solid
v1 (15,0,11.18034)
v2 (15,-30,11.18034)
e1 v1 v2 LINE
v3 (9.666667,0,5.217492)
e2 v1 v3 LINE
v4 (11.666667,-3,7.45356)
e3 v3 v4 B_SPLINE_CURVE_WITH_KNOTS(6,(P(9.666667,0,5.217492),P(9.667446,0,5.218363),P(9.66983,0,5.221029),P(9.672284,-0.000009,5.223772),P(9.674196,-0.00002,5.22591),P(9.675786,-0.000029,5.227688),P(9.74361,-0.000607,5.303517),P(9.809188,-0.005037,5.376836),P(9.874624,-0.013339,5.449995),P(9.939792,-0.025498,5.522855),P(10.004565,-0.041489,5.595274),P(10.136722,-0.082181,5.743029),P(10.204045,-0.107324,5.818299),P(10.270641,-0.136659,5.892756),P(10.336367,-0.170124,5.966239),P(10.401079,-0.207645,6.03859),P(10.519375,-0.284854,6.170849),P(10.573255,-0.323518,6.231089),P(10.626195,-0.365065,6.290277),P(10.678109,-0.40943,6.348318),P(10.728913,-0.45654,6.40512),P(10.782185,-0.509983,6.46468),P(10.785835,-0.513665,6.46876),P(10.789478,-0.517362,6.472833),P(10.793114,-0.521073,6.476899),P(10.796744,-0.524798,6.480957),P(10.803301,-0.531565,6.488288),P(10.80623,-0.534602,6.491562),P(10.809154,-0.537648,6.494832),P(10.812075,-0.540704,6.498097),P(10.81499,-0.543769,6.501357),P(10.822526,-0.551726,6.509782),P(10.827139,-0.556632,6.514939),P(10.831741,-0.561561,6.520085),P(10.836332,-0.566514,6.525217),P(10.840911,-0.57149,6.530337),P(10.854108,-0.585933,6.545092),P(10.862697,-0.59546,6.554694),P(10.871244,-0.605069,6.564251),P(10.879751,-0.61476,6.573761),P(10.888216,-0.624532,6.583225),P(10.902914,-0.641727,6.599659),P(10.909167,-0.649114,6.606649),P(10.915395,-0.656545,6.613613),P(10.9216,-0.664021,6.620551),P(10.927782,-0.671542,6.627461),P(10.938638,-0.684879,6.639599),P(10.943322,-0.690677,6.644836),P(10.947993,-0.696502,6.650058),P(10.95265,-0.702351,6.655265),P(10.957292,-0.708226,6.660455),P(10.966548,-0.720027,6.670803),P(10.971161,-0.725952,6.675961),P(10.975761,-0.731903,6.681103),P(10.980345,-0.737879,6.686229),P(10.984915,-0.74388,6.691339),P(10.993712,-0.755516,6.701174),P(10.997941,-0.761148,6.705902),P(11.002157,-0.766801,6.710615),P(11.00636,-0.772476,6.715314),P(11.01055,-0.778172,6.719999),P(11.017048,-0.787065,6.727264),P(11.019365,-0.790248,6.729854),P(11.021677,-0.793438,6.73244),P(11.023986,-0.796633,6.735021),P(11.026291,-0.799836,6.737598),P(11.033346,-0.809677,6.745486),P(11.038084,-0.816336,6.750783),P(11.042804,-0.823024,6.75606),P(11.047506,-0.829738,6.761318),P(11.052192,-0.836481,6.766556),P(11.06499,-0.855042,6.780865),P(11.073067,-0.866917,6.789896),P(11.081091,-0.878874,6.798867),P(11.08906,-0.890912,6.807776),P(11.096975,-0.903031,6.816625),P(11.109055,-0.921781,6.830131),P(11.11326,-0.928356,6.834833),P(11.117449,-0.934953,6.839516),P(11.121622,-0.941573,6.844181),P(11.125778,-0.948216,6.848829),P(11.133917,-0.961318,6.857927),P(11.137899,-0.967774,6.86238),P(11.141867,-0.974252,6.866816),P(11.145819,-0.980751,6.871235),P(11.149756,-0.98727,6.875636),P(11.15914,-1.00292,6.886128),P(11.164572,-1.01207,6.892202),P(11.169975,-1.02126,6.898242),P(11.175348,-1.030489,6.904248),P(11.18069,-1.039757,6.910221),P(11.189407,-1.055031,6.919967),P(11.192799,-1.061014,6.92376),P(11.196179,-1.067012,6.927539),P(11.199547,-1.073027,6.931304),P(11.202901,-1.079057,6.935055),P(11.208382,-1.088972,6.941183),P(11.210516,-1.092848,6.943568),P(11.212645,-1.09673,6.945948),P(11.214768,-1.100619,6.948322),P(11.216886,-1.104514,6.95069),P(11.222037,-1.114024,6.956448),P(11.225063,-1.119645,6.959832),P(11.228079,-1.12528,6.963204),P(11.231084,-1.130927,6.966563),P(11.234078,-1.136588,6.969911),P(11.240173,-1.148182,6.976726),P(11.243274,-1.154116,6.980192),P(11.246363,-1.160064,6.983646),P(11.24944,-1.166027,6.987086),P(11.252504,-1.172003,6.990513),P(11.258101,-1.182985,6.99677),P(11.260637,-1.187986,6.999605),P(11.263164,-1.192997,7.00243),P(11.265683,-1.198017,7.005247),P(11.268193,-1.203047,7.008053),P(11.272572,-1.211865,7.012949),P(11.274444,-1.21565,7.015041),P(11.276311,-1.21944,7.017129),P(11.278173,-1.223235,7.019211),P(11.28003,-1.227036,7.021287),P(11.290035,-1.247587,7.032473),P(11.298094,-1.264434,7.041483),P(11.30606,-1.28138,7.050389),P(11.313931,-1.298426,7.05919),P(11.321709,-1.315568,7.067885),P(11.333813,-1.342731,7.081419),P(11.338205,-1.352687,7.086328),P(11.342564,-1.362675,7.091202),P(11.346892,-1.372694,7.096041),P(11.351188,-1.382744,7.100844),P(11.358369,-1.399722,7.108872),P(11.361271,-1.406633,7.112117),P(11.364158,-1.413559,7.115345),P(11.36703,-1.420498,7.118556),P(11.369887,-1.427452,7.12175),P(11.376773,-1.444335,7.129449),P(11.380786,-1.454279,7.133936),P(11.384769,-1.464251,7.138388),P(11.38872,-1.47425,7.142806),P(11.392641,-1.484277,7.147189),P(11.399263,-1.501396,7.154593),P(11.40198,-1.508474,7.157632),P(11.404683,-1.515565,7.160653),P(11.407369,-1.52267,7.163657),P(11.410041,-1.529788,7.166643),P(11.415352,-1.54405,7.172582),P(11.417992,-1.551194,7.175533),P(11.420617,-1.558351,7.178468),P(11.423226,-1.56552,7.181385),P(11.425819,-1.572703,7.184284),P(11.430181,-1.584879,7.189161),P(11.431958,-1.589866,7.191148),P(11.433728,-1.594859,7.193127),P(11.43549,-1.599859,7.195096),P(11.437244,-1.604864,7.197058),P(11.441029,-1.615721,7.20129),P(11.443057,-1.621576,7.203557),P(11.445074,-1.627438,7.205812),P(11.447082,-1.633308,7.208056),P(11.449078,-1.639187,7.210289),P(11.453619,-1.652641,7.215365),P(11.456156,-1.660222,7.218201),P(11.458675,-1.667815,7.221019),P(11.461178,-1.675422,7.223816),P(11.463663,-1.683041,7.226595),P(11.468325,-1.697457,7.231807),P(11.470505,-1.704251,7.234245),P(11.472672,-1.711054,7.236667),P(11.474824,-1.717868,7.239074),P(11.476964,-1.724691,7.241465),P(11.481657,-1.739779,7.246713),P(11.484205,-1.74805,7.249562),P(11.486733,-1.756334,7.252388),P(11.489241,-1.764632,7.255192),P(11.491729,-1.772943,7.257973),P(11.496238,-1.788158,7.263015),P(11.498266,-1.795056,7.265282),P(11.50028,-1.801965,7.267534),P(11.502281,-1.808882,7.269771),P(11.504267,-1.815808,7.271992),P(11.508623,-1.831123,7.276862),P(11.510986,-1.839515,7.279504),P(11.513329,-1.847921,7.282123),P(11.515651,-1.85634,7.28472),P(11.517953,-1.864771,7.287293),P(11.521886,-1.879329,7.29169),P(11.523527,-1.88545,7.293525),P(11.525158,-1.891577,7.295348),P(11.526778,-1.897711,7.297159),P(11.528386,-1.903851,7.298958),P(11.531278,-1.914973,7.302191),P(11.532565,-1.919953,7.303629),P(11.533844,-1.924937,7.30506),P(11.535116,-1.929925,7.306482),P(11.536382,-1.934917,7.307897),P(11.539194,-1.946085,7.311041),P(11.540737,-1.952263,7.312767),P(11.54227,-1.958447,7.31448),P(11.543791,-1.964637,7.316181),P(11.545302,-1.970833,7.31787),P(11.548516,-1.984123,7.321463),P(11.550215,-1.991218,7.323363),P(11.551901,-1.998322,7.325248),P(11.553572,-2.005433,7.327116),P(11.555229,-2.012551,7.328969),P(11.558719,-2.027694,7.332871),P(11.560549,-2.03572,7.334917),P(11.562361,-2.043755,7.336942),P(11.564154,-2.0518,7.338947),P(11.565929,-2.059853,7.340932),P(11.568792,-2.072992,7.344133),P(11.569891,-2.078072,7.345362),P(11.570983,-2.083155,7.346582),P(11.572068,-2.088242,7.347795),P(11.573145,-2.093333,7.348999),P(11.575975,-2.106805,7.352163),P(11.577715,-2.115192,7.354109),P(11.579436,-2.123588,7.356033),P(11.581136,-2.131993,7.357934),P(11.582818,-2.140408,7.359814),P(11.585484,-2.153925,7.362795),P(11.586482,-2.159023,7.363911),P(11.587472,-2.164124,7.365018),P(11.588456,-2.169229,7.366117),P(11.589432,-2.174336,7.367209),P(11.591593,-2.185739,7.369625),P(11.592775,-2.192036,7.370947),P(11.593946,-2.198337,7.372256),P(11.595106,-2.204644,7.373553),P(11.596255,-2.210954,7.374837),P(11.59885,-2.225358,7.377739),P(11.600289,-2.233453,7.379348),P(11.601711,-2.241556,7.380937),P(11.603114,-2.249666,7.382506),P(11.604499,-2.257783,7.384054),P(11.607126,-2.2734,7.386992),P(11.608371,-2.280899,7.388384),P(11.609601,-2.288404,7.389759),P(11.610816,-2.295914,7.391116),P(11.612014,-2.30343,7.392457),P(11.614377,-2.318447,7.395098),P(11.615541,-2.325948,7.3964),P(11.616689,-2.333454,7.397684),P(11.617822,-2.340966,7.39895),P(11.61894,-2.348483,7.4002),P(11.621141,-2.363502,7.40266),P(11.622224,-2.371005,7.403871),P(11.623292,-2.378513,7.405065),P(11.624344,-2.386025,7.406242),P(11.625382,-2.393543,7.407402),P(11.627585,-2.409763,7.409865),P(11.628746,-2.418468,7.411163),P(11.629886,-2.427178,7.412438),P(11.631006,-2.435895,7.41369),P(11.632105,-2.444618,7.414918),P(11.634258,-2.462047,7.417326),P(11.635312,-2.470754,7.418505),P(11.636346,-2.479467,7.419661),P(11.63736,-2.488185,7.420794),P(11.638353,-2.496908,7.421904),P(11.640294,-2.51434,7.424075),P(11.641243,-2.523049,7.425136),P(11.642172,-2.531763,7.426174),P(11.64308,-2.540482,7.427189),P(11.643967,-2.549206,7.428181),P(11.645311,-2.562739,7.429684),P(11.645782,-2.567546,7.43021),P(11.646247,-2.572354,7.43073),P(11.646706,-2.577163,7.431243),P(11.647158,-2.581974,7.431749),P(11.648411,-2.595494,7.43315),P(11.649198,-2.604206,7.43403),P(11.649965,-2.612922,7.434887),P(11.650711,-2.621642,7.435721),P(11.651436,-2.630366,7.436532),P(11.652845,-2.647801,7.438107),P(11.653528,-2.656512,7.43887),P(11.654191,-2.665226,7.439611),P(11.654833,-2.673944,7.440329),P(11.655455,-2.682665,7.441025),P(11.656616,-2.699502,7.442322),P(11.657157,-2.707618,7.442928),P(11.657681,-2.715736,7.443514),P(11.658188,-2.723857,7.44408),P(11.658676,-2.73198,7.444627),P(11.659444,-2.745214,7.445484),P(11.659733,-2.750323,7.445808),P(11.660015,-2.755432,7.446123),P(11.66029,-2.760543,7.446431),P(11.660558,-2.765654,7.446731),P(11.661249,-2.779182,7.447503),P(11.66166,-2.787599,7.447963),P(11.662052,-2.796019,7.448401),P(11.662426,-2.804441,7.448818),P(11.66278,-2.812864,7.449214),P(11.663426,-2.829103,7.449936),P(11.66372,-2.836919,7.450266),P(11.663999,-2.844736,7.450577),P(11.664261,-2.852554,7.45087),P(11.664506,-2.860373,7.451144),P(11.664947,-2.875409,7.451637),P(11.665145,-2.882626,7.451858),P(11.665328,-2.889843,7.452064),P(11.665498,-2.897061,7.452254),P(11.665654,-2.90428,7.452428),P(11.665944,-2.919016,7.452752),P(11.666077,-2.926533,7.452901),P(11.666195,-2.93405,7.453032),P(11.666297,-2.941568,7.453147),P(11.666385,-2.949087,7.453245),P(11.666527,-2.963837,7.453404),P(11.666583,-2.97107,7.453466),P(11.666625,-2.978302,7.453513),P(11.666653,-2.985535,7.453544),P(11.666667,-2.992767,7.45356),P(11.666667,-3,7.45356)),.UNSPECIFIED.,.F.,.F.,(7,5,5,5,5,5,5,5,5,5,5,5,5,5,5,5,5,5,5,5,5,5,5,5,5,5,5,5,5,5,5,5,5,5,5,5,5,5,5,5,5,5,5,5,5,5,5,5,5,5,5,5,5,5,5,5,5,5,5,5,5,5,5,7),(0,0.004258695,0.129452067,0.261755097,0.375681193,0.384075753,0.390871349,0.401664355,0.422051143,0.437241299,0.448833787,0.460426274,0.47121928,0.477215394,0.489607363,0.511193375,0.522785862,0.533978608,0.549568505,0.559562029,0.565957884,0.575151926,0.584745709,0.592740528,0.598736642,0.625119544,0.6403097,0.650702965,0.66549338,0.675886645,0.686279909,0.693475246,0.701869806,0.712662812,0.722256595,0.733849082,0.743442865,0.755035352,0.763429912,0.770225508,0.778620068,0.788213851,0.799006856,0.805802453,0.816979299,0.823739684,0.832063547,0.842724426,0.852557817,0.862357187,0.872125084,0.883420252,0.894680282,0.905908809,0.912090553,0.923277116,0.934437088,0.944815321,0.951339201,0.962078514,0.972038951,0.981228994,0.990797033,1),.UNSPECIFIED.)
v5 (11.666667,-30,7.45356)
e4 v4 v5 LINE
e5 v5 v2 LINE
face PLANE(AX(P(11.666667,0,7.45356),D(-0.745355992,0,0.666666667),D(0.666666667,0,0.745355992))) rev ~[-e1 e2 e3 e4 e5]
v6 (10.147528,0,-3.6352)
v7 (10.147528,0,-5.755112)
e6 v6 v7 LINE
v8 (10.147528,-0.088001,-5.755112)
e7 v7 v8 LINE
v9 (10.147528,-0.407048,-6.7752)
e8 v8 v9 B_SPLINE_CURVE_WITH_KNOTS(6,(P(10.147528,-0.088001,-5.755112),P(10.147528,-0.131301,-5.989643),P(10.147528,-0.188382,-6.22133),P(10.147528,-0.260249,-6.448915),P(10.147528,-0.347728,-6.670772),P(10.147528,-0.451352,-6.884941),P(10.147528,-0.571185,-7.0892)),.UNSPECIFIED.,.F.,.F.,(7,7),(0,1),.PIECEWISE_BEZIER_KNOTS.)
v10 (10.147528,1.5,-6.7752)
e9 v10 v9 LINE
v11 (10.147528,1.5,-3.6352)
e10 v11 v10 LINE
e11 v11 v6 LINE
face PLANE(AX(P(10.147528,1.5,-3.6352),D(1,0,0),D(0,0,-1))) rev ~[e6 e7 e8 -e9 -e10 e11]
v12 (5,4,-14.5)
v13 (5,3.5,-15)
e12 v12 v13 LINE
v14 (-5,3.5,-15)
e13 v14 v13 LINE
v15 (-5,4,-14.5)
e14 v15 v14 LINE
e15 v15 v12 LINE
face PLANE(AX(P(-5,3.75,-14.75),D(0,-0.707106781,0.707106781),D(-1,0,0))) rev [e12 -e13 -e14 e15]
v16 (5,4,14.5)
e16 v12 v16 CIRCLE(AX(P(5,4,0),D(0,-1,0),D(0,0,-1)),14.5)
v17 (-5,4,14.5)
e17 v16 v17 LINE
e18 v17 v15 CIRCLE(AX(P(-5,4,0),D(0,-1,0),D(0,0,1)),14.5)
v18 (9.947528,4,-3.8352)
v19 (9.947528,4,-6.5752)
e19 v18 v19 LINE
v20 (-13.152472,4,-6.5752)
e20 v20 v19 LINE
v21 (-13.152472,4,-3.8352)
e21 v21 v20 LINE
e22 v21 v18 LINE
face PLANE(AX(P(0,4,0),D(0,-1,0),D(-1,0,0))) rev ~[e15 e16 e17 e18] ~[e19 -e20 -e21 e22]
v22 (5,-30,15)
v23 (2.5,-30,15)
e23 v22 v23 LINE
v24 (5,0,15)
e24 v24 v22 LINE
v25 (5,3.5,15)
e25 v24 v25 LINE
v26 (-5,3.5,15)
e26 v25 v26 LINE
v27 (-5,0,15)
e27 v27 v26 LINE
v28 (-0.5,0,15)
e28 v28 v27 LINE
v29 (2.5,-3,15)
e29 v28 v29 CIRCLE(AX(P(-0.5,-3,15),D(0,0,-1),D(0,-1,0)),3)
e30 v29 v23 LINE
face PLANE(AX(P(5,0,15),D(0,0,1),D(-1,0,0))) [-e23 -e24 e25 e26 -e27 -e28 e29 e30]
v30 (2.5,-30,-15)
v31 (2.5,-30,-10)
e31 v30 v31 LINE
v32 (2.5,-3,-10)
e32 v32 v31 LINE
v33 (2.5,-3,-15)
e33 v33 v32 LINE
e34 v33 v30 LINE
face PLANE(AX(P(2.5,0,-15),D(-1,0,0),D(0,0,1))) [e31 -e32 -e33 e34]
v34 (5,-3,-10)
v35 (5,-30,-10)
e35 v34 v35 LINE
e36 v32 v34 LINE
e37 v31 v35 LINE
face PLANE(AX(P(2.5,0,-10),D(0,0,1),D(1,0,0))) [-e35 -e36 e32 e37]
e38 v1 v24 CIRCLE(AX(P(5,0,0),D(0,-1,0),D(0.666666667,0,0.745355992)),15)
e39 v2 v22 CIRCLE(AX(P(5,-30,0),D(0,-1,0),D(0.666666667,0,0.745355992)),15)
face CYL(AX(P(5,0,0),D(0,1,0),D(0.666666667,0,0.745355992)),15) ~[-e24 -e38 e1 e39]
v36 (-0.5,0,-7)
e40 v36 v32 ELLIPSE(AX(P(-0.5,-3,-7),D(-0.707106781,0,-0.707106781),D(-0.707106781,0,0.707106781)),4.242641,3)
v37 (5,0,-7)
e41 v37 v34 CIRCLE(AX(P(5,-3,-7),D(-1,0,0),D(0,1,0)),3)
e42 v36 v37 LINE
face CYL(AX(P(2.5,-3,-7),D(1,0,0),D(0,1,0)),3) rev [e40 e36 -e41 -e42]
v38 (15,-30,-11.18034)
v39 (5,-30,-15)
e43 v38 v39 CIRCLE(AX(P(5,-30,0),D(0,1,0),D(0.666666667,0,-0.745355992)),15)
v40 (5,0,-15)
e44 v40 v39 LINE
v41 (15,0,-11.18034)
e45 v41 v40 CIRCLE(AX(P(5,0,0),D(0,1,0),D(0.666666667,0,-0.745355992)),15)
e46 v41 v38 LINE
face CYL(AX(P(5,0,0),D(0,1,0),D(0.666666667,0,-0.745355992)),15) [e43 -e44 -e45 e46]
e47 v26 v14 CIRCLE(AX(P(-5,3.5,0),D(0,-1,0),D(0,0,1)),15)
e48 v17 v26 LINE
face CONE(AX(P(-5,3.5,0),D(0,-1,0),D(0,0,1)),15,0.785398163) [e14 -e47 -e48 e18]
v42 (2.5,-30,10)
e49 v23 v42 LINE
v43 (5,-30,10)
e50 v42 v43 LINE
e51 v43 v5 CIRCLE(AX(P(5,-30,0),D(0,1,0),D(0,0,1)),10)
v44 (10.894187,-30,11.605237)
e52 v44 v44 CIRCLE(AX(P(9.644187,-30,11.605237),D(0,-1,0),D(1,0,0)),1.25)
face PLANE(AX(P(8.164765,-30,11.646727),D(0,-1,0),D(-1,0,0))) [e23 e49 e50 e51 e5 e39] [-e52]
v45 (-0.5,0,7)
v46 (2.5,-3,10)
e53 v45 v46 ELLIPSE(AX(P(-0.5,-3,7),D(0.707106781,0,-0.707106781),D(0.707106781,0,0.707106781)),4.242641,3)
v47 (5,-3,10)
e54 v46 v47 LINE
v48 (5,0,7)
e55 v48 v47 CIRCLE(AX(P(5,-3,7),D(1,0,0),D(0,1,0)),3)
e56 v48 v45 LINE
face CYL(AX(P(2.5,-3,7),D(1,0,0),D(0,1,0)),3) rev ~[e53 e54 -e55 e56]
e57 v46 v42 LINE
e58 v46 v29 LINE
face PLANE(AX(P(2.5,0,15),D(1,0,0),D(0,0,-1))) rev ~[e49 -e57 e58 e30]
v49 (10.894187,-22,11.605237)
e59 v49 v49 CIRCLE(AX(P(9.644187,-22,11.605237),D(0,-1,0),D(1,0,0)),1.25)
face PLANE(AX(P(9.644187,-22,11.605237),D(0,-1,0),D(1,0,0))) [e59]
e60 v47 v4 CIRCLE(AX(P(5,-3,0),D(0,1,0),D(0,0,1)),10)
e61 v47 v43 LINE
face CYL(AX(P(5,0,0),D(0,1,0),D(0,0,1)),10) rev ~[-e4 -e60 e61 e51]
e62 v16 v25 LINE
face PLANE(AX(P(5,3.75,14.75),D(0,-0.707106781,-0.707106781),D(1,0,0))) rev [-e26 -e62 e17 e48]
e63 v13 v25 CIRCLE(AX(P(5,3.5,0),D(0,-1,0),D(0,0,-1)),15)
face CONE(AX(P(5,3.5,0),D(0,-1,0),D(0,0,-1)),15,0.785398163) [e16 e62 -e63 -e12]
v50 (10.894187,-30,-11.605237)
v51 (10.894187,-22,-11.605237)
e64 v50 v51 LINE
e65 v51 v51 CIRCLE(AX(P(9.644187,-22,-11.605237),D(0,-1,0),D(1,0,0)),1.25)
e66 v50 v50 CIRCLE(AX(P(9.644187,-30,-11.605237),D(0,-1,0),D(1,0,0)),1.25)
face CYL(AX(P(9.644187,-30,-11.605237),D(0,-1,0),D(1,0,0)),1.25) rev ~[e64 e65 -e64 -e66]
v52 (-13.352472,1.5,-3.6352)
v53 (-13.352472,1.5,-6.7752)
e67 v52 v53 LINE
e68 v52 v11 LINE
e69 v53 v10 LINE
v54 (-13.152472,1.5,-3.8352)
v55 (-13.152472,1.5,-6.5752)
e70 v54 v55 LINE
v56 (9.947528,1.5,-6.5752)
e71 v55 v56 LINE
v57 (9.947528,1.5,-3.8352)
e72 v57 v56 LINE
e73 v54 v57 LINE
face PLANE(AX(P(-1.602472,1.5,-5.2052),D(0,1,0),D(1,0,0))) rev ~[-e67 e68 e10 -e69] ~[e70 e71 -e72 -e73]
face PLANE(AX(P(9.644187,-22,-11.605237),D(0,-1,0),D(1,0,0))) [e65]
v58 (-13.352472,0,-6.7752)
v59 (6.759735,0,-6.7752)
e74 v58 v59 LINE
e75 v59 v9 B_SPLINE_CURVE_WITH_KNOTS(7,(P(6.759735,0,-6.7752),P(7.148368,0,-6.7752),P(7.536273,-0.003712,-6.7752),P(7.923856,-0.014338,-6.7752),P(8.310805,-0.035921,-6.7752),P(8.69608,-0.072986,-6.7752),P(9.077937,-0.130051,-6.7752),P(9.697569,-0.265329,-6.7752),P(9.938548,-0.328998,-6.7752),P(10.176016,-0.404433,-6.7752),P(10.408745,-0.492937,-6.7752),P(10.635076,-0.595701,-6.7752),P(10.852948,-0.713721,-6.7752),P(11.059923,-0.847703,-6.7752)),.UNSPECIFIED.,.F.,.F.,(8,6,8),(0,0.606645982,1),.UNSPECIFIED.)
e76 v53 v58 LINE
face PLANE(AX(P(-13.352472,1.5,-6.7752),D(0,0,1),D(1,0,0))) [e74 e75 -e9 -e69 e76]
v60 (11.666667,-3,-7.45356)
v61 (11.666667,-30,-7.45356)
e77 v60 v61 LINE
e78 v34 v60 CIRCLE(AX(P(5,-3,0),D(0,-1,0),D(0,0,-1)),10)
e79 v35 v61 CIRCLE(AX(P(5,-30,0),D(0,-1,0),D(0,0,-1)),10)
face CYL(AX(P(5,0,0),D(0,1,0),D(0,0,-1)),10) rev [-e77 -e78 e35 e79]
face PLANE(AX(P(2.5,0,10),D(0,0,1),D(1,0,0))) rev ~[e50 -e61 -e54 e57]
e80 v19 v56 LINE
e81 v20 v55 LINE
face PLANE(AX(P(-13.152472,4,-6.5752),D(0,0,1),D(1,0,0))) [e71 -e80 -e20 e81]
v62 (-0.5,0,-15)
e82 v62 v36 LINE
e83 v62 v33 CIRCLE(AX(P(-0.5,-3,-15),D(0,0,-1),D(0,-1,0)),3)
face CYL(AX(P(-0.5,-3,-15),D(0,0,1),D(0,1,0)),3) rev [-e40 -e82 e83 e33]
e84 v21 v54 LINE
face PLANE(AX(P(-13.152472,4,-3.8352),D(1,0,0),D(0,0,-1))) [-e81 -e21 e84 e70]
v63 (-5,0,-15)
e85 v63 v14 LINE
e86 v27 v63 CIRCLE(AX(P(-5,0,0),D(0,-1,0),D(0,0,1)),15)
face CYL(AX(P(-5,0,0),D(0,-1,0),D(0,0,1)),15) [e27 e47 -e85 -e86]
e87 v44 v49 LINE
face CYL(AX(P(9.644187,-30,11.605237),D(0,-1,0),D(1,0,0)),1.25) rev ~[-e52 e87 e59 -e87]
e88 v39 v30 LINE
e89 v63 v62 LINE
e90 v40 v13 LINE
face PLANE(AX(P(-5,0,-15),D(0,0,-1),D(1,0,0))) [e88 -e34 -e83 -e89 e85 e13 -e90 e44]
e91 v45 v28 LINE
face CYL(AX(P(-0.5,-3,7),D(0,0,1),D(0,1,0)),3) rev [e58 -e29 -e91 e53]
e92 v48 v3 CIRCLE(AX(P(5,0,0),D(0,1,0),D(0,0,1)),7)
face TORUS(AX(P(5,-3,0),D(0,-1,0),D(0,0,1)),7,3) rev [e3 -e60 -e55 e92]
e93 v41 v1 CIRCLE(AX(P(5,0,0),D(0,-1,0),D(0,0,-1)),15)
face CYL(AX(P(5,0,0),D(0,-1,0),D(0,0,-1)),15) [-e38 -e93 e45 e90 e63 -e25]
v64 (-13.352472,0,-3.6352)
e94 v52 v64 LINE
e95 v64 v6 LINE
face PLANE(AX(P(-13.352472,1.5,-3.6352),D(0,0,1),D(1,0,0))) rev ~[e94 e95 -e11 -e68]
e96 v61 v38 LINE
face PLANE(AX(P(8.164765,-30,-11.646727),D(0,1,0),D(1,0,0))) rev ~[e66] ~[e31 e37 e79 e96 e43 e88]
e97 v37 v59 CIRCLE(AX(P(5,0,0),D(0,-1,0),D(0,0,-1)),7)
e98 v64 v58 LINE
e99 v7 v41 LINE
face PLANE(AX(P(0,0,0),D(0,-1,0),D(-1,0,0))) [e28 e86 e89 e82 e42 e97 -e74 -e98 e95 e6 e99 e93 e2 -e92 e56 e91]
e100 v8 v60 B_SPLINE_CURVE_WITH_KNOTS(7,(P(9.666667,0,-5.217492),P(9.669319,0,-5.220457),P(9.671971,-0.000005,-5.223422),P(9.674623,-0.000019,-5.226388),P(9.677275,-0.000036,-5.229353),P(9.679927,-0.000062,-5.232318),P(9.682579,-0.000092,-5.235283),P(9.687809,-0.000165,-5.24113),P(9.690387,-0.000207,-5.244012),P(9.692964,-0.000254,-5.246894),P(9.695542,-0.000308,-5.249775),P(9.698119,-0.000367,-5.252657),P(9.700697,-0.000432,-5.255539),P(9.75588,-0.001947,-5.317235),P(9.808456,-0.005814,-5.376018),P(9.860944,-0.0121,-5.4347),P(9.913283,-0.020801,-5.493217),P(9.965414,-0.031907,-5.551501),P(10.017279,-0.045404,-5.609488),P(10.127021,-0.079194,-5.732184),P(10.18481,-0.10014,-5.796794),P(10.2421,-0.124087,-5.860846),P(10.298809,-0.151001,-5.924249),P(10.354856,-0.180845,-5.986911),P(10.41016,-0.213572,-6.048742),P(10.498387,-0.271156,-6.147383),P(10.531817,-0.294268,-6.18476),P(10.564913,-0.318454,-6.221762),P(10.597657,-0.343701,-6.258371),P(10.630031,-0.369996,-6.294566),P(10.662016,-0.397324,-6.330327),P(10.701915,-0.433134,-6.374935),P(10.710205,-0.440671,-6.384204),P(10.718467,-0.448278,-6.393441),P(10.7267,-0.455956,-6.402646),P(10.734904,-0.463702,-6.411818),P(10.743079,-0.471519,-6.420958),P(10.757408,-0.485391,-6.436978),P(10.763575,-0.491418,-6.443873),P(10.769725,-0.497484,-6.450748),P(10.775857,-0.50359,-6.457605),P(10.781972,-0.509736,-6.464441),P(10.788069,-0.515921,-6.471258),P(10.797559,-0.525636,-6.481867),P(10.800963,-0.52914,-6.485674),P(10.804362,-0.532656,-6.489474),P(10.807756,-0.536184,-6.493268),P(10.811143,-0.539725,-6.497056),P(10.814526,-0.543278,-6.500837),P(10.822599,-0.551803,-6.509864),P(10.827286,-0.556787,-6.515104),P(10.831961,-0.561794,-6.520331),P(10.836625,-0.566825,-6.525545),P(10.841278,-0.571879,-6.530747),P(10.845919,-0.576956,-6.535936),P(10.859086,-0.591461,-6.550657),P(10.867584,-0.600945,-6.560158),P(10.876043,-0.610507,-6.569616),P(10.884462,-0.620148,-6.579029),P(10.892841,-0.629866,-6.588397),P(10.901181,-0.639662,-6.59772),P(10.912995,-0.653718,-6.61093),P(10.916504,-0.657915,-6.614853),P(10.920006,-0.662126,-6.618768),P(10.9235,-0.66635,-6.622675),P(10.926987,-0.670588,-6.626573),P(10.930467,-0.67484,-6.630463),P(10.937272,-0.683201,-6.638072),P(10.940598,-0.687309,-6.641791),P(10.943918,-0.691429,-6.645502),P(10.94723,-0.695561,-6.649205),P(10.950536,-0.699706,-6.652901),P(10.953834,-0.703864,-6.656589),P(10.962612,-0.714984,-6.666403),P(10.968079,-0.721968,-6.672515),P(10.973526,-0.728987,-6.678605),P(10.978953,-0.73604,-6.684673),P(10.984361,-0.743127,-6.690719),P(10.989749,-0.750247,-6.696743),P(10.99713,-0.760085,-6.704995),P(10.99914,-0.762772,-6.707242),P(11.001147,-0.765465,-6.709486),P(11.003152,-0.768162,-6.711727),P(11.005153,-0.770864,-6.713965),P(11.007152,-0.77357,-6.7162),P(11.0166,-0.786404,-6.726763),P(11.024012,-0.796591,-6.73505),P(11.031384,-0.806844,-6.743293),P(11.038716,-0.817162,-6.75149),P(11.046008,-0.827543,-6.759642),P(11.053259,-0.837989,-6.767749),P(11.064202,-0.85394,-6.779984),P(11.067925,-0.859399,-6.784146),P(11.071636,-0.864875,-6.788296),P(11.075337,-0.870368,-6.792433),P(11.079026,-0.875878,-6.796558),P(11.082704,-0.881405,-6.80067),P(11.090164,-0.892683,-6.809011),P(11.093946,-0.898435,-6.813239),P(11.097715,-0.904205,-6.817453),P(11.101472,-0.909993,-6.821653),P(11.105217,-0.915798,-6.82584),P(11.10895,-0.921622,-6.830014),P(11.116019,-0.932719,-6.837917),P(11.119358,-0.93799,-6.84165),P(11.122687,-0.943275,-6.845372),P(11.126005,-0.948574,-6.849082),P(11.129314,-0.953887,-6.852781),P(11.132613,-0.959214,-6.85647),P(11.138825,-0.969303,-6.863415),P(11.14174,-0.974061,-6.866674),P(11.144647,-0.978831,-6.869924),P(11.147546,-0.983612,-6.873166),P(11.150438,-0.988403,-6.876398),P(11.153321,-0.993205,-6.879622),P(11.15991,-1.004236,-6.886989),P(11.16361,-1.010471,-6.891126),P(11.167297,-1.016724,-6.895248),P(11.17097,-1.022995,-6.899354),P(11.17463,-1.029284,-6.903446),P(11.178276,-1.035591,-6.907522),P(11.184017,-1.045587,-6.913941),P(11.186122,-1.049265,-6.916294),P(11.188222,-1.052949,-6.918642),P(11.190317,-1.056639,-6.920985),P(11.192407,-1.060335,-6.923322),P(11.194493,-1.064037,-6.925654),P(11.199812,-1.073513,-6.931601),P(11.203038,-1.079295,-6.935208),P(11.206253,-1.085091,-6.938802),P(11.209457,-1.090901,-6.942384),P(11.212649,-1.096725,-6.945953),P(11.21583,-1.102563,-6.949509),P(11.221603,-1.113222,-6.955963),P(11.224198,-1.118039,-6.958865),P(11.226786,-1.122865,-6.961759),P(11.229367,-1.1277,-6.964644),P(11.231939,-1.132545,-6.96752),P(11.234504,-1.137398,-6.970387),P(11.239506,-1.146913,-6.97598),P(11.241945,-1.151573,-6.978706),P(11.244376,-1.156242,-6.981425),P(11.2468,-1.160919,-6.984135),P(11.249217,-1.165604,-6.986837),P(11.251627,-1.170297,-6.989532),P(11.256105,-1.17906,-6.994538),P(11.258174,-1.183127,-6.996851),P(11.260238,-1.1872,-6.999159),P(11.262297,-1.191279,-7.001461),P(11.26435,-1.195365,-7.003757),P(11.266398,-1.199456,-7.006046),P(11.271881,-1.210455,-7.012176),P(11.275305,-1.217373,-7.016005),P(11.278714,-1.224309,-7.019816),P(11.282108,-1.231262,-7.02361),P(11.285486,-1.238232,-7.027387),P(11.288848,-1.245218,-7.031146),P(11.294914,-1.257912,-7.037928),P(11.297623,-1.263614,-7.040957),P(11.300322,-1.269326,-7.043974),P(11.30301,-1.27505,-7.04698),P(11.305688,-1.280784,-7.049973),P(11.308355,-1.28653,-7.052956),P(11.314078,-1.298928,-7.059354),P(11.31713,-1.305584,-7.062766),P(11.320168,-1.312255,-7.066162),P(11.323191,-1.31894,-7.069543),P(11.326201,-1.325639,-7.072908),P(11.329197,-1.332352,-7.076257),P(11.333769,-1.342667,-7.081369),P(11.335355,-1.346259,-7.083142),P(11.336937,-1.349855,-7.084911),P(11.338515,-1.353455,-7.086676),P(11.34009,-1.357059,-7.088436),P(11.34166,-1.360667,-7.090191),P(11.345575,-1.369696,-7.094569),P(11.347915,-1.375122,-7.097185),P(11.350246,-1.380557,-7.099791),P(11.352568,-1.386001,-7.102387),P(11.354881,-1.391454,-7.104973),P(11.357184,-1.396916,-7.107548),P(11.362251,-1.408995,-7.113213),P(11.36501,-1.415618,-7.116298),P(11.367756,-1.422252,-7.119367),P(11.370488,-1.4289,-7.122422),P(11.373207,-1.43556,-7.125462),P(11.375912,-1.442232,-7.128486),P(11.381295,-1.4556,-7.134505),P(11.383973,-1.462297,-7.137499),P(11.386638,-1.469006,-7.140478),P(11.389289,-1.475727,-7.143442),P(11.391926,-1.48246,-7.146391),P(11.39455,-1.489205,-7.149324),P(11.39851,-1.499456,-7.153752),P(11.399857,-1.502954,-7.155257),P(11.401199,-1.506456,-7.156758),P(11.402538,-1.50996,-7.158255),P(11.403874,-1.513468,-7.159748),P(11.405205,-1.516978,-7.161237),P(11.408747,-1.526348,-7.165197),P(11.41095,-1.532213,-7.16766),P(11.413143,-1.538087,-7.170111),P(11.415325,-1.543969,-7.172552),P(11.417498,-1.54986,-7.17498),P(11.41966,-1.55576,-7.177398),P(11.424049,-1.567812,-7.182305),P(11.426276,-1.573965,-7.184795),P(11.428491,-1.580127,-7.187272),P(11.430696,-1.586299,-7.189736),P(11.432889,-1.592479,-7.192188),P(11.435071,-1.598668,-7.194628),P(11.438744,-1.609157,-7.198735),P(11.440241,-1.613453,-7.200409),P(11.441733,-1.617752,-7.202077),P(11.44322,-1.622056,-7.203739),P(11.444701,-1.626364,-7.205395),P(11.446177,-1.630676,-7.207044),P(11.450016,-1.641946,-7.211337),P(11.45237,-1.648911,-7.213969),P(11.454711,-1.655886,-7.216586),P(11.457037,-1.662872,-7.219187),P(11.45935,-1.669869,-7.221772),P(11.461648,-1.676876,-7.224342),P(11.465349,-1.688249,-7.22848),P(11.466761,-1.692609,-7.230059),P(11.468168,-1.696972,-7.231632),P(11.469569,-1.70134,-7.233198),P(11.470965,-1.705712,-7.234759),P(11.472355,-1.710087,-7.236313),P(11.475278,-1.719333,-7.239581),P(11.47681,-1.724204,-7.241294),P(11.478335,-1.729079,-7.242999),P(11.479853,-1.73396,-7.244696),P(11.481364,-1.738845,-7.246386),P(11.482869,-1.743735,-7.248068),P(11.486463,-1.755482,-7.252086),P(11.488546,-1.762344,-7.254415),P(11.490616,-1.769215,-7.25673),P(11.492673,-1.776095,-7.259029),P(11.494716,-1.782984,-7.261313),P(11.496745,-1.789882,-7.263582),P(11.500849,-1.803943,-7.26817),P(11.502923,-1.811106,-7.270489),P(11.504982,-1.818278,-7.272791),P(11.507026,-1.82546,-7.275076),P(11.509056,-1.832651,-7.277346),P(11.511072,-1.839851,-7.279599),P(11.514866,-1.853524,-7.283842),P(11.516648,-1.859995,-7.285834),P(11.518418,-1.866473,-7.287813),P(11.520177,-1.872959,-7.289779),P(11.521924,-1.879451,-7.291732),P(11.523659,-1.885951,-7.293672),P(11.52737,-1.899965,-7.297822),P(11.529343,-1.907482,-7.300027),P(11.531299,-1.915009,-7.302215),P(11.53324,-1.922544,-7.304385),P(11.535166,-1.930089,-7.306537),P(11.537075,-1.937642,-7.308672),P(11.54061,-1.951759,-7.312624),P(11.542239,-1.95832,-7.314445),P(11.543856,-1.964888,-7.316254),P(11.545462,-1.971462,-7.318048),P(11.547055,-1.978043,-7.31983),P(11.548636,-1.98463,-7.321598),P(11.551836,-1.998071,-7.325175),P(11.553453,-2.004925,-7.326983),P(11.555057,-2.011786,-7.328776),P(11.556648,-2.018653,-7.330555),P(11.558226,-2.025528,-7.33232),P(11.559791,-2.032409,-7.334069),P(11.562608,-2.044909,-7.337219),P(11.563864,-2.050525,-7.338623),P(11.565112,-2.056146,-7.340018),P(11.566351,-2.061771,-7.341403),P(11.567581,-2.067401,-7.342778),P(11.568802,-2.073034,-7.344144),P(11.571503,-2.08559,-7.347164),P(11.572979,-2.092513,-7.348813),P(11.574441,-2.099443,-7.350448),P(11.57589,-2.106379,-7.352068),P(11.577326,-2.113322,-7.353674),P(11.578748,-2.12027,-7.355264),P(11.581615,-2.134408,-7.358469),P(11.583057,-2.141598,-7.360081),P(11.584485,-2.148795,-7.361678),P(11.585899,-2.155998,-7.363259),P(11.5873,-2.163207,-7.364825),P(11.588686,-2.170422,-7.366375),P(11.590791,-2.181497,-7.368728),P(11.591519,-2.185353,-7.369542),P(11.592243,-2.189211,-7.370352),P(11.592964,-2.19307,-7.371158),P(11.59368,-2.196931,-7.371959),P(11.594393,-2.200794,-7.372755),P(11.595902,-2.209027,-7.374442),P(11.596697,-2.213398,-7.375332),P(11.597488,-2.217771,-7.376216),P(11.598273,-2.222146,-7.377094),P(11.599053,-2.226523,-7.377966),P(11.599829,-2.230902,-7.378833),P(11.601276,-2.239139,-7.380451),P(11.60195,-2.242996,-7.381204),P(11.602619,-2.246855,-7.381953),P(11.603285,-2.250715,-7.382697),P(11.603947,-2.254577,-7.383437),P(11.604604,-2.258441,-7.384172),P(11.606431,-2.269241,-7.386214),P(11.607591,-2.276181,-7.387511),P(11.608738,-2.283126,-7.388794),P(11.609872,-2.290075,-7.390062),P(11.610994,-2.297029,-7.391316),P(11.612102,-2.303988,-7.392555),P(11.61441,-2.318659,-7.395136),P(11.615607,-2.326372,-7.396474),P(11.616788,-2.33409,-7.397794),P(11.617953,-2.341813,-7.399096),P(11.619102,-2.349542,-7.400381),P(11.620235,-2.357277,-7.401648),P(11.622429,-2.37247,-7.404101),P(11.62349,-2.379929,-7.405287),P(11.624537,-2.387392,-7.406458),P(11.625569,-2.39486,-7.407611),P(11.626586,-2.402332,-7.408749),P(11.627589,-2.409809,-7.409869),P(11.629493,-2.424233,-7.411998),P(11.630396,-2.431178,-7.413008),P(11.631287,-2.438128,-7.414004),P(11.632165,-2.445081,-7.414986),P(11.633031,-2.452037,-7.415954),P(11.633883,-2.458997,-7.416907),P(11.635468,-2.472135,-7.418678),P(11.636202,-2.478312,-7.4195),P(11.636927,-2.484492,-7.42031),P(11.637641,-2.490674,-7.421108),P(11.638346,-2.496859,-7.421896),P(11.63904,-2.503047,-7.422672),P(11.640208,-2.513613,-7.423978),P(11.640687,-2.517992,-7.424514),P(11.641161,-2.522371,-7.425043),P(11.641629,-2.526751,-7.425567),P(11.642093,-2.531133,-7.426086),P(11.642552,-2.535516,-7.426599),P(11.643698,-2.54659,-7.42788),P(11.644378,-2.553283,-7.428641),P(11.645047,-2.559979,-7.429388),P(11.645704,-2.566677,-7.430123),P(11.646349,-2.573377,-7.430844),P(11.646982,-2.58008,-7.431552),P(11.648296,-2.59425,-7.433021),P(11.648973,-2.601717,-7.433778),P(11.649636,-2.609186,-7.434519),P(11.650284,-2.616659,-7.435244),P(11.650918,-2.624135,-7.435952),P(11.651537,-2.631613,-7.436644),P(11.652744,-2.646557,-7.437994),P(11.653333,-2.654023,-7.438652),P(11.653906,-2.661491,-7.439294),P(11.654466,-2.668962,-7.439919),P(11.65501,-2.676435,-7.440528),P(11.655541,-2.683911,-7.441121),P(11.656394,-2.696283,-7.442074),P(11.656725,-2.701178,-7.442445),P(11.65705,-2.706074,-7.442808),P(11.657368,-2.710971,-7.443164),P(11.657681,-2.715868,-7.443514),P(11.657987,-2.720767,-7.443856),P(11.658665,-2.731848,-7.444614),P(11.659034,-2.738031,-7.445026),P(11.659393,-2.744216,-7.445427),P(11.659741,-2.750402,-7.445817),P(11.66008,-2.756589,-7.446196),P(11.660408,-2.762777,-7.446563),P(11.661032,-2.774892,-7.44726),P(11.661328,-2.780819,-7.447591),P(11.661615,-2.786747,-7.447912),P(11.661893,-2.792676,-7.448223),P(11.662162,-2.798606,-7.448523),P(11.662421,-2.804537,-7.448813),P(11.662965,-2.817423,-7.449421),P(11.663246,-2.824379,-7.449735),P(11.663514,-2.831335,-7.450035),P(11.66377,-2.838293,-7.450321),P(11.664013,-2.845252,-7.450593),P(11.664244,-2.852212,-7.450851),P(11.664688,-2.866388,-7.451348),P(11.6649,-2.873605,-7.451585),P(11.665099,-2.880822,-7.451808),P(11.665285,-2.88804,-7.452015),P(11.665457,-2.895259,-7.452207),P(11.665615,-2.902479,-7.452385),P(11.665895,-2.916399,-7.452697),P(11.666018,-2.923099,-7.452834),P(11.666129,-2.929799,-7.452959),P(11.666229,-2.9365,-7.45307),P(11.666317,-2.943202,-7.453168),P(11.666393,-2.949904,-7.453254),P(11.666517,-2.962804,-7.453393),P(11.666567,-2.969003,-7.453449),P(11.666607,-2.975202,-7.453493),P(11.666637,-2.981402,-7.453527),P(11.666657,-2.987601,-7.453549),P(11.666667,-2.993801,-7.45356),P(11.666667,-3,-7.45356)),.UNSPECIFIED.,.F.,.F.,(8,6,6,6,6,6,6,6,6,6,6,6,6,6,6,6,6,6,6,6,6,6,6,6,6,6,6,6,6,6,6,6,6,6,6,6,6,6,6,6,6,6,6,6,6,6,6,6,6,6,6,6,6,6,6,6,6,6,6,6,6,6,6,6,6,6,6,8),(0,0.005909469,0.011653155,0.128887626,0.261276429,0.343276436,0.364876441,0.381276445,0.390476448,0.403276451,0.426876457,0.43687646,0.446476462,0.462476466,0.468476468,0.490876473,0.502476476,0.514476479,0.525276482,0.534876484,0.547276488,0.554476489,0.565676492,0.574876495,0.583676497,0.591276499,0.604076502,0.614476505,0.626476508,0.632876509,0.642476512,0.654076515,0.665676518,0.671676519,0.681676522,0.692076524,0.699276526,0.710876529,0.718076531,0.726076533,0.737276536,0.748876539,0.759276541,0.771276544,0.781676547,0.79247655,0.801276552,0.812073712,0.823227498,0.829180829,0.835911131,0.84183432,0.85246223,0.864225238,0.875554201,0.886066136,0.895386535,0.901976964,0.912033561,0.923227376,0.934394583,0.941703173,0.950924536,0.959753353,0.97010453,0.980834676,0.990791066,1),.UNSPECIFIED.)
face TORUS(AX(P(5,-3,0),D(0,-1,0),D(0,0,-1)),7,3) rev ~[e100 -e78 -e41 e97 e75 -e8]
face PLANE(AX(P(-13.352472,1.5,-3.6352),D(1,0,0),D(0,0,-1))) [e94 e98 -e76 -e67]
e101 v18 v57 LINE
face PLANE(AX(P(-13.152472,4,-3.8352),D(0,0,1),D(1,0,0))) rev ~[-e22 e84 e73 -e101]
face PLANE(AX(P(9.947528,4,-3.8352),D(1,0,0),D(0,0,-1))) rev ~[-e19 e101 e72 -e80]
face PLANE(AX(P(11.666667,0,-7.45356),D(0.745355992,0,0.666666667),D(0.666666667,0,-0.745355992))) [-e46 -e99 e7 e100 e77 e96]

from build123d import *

# Parameters (mm, degrees)
AUFSATZ_LINEAR_AUSTRAGEN1_DEPTH   = 30
AUFSATZ_LINEAR_AUSTRAGEN1_2_DEPTH = 30
AUFSATZ_LINEAR_START              = 4
AUFSATZ_LINEAR_AUSTRAGEN2_DEPTH   = 4
VERRUNDUNG1_R                     = 3
VERRUNDUNG2_R                     = 3
FASE1_SIZE                        = 0.5
SKIZZE3_R                         = 1.25
SCHNITT_LINEAR_AUSTRAGEN1_DEPTH   = 8
SKIZZE4_W                         = 23.1
SKIZZE4_H                         = 2.74
SCHNITT_LINEAR_AUSTRAGEN2_DEPTH   = 2.5
SCHNITT_LINEAR_AUSTRAGEN3_REACH   = 42.215
SKIZZE5_W                         = 23.5
SKIZZE5_H                         = 3.14


with BuildPart() as part:
    # Skizze1 → Aufsatz-Linear austragen1 (new body)
    with BuildSketch(Plane(origin=(0, 0, 0), x_dir=(1, 0, 0), z_dir=(0, 1, 0))):
        with BuildLine():
            Line((5, 15), (2.5, 15))
            Line((2.5, 15), (2.5, 10))
            Line((2.5, 10), (5, 10))
            ThreePointArc((5, 10), (8.568220898, 9.34172359), (11.666666667, 7.453559925))
            Line((11.666666667, 7.453559925), (15, 11.180339887))
            ThreePointArc((15, 11.180339887), (10.352331347, 14.012585384), (5, 15))
        make_face()
    extrude(amount=-AUFSATZ_LINEAR_AUSTRAGEN1_DEPTH)



with BuildPart() as body_2:
    # Skizze1 → Aufsatz-Linear austragen1 2 (new body)
    with BuildSketch(Plane(origin=(0, 0, 0), x_dir=(1, 0, 0), z_dir=(0, 1, 0))):
        with BuildLine():
            Line((11.666666667, -7.453559925), (15, -11.180339887))
            ThreePointArc((15, -11.180339887), (10.352331347, -14.012585384), (5, -15))
            Line((5, -15), (2.5, -15))
            Line((2.5, -15), (2.5, -10))
            Line((2.5, -10), (5, -10))
            ThreePointArc((5, -10), (8.568220898, -9.34172359), (11.666666667, -7.453559925))
        make_face()
    extrude(amount=-AUFSATZ_LINEAR_AUSTRAGEN1_2_DEPTH)


with BuildPart() as part_1:
    add(part.part)

    add(body_2.part)  # Aufsatz-Linear austragen2 merges body 2
    # Skizze2 → Aufsatz-Linear austragen2 (add)
    with BuildSketch(Plane(origin=(0, 0, 0), x_dir=(1, 0, 0), z_dir=(0, 1, 0)).offset(AUFSATZ_LINEAR_START)):
        with BuildLine():
            Line((-5, 15), (5, 15))
            ThreePointArc((5, 15), (20, 0), (5, -15))
            Line((5, -15), (-5, -15))
            ThreePointArc((-5, -15), (-20, 0), (-5, 15))
        make_face()
    extrude(amount=-AUFSATZ_LINEAR_AUSTRAGEN2_DEPTH)

    # Verrundung1
    verrundung1_edges = [part_1.edges().sort_by_distance(p)[0] for p in [
        (3.75, 0, 10),
        (8.568220898, 0, 9.34172359),
        (8.568220898, 0, -9.34172359),
        (3.75, 0, -10),
    ]]
    fillet(verrundung1_edges, radius=VERRUNDUNG1_R)

    # Verrundung2
    verrundung2_edges = [part_1.edges().sort_by_distance(p)[0] for p in [
        (2.5, 0, 11),
        (2.5, 0, -11),
    ]]
    fillet(verrundung2_edges, radius=VERRUNDUNG2_R)

    # Fase1
    fase1_edges = [part_1.edges().sort_by_distance(p)[0] for p in [
        (-20, 4, 0),
        (0, 4, 15),
        (0, 4, -15),
        (20, 4, 0),
    ]]
    chamfer(fase1_edges, length=FASE1_SIZE)

    # Skizze3 → Schnitt-Linear austragen1 (cut)
    with BuildSketch(Plane.XZ.offset(30)):
        with Locations((9.644187298, -11.605236936)):
            Circle(SKIZZE3_R)
        with Locations((9.644187298, 11.605236936)):
            Circle(SKIZZE3_R)
    extrude(amount=-SCHNITT_LINEAR_AUSTRAGEN1_DEPTH, mode=Mode.SUBTRACT)

    # Skizze4 → Schnitt-Linear austragen2 (cut)
    with BuildSketch(Plane(origin=(0, 4, 0), x_dir=(1, 0, 0), z_dir=(0, 1, 0))):
        with Locations((-1.602471757, 5.205199937)):
            Rectangle(SKIZZE4_W, SKIZZE4_H)
    extrude(amount=-SCHNITT_LINEAR_AUSTRAGEN2_DEPTH, mode=Mode.SUBTRACT)

    # Skizze5 → Schnitt-Linear austragen3 (cut, up to next)
    with BuildSketch(Plane(origin=(0, 1.5, 0), x_dir=(1, 0, 0), z_dir=(0, 1, 0)), mode=Mode.PRIVATE) as schnitt_linear_austragen3_sk1:
        with Locations((-1.602471757, 5.205199937)):
            Rectangle(SKIZZE5_W, SKIZZE5_H)
    schnitt_linear_austragen3_tool1 = extrude(schnitt_linear_austragen3_sk1.sketch, amount=-SCHNITT_LINEAR_AUSTRAGEN3_REACH, mode=Mode.PRIVATE) & part_1.part
    add(schnitt_linear_austragen3_tool1.solids().sort_by_distance((-1.602472, 1.5, -5.2052))[0], mode=Mode.SUBTRACT)


solid = part_1.part
